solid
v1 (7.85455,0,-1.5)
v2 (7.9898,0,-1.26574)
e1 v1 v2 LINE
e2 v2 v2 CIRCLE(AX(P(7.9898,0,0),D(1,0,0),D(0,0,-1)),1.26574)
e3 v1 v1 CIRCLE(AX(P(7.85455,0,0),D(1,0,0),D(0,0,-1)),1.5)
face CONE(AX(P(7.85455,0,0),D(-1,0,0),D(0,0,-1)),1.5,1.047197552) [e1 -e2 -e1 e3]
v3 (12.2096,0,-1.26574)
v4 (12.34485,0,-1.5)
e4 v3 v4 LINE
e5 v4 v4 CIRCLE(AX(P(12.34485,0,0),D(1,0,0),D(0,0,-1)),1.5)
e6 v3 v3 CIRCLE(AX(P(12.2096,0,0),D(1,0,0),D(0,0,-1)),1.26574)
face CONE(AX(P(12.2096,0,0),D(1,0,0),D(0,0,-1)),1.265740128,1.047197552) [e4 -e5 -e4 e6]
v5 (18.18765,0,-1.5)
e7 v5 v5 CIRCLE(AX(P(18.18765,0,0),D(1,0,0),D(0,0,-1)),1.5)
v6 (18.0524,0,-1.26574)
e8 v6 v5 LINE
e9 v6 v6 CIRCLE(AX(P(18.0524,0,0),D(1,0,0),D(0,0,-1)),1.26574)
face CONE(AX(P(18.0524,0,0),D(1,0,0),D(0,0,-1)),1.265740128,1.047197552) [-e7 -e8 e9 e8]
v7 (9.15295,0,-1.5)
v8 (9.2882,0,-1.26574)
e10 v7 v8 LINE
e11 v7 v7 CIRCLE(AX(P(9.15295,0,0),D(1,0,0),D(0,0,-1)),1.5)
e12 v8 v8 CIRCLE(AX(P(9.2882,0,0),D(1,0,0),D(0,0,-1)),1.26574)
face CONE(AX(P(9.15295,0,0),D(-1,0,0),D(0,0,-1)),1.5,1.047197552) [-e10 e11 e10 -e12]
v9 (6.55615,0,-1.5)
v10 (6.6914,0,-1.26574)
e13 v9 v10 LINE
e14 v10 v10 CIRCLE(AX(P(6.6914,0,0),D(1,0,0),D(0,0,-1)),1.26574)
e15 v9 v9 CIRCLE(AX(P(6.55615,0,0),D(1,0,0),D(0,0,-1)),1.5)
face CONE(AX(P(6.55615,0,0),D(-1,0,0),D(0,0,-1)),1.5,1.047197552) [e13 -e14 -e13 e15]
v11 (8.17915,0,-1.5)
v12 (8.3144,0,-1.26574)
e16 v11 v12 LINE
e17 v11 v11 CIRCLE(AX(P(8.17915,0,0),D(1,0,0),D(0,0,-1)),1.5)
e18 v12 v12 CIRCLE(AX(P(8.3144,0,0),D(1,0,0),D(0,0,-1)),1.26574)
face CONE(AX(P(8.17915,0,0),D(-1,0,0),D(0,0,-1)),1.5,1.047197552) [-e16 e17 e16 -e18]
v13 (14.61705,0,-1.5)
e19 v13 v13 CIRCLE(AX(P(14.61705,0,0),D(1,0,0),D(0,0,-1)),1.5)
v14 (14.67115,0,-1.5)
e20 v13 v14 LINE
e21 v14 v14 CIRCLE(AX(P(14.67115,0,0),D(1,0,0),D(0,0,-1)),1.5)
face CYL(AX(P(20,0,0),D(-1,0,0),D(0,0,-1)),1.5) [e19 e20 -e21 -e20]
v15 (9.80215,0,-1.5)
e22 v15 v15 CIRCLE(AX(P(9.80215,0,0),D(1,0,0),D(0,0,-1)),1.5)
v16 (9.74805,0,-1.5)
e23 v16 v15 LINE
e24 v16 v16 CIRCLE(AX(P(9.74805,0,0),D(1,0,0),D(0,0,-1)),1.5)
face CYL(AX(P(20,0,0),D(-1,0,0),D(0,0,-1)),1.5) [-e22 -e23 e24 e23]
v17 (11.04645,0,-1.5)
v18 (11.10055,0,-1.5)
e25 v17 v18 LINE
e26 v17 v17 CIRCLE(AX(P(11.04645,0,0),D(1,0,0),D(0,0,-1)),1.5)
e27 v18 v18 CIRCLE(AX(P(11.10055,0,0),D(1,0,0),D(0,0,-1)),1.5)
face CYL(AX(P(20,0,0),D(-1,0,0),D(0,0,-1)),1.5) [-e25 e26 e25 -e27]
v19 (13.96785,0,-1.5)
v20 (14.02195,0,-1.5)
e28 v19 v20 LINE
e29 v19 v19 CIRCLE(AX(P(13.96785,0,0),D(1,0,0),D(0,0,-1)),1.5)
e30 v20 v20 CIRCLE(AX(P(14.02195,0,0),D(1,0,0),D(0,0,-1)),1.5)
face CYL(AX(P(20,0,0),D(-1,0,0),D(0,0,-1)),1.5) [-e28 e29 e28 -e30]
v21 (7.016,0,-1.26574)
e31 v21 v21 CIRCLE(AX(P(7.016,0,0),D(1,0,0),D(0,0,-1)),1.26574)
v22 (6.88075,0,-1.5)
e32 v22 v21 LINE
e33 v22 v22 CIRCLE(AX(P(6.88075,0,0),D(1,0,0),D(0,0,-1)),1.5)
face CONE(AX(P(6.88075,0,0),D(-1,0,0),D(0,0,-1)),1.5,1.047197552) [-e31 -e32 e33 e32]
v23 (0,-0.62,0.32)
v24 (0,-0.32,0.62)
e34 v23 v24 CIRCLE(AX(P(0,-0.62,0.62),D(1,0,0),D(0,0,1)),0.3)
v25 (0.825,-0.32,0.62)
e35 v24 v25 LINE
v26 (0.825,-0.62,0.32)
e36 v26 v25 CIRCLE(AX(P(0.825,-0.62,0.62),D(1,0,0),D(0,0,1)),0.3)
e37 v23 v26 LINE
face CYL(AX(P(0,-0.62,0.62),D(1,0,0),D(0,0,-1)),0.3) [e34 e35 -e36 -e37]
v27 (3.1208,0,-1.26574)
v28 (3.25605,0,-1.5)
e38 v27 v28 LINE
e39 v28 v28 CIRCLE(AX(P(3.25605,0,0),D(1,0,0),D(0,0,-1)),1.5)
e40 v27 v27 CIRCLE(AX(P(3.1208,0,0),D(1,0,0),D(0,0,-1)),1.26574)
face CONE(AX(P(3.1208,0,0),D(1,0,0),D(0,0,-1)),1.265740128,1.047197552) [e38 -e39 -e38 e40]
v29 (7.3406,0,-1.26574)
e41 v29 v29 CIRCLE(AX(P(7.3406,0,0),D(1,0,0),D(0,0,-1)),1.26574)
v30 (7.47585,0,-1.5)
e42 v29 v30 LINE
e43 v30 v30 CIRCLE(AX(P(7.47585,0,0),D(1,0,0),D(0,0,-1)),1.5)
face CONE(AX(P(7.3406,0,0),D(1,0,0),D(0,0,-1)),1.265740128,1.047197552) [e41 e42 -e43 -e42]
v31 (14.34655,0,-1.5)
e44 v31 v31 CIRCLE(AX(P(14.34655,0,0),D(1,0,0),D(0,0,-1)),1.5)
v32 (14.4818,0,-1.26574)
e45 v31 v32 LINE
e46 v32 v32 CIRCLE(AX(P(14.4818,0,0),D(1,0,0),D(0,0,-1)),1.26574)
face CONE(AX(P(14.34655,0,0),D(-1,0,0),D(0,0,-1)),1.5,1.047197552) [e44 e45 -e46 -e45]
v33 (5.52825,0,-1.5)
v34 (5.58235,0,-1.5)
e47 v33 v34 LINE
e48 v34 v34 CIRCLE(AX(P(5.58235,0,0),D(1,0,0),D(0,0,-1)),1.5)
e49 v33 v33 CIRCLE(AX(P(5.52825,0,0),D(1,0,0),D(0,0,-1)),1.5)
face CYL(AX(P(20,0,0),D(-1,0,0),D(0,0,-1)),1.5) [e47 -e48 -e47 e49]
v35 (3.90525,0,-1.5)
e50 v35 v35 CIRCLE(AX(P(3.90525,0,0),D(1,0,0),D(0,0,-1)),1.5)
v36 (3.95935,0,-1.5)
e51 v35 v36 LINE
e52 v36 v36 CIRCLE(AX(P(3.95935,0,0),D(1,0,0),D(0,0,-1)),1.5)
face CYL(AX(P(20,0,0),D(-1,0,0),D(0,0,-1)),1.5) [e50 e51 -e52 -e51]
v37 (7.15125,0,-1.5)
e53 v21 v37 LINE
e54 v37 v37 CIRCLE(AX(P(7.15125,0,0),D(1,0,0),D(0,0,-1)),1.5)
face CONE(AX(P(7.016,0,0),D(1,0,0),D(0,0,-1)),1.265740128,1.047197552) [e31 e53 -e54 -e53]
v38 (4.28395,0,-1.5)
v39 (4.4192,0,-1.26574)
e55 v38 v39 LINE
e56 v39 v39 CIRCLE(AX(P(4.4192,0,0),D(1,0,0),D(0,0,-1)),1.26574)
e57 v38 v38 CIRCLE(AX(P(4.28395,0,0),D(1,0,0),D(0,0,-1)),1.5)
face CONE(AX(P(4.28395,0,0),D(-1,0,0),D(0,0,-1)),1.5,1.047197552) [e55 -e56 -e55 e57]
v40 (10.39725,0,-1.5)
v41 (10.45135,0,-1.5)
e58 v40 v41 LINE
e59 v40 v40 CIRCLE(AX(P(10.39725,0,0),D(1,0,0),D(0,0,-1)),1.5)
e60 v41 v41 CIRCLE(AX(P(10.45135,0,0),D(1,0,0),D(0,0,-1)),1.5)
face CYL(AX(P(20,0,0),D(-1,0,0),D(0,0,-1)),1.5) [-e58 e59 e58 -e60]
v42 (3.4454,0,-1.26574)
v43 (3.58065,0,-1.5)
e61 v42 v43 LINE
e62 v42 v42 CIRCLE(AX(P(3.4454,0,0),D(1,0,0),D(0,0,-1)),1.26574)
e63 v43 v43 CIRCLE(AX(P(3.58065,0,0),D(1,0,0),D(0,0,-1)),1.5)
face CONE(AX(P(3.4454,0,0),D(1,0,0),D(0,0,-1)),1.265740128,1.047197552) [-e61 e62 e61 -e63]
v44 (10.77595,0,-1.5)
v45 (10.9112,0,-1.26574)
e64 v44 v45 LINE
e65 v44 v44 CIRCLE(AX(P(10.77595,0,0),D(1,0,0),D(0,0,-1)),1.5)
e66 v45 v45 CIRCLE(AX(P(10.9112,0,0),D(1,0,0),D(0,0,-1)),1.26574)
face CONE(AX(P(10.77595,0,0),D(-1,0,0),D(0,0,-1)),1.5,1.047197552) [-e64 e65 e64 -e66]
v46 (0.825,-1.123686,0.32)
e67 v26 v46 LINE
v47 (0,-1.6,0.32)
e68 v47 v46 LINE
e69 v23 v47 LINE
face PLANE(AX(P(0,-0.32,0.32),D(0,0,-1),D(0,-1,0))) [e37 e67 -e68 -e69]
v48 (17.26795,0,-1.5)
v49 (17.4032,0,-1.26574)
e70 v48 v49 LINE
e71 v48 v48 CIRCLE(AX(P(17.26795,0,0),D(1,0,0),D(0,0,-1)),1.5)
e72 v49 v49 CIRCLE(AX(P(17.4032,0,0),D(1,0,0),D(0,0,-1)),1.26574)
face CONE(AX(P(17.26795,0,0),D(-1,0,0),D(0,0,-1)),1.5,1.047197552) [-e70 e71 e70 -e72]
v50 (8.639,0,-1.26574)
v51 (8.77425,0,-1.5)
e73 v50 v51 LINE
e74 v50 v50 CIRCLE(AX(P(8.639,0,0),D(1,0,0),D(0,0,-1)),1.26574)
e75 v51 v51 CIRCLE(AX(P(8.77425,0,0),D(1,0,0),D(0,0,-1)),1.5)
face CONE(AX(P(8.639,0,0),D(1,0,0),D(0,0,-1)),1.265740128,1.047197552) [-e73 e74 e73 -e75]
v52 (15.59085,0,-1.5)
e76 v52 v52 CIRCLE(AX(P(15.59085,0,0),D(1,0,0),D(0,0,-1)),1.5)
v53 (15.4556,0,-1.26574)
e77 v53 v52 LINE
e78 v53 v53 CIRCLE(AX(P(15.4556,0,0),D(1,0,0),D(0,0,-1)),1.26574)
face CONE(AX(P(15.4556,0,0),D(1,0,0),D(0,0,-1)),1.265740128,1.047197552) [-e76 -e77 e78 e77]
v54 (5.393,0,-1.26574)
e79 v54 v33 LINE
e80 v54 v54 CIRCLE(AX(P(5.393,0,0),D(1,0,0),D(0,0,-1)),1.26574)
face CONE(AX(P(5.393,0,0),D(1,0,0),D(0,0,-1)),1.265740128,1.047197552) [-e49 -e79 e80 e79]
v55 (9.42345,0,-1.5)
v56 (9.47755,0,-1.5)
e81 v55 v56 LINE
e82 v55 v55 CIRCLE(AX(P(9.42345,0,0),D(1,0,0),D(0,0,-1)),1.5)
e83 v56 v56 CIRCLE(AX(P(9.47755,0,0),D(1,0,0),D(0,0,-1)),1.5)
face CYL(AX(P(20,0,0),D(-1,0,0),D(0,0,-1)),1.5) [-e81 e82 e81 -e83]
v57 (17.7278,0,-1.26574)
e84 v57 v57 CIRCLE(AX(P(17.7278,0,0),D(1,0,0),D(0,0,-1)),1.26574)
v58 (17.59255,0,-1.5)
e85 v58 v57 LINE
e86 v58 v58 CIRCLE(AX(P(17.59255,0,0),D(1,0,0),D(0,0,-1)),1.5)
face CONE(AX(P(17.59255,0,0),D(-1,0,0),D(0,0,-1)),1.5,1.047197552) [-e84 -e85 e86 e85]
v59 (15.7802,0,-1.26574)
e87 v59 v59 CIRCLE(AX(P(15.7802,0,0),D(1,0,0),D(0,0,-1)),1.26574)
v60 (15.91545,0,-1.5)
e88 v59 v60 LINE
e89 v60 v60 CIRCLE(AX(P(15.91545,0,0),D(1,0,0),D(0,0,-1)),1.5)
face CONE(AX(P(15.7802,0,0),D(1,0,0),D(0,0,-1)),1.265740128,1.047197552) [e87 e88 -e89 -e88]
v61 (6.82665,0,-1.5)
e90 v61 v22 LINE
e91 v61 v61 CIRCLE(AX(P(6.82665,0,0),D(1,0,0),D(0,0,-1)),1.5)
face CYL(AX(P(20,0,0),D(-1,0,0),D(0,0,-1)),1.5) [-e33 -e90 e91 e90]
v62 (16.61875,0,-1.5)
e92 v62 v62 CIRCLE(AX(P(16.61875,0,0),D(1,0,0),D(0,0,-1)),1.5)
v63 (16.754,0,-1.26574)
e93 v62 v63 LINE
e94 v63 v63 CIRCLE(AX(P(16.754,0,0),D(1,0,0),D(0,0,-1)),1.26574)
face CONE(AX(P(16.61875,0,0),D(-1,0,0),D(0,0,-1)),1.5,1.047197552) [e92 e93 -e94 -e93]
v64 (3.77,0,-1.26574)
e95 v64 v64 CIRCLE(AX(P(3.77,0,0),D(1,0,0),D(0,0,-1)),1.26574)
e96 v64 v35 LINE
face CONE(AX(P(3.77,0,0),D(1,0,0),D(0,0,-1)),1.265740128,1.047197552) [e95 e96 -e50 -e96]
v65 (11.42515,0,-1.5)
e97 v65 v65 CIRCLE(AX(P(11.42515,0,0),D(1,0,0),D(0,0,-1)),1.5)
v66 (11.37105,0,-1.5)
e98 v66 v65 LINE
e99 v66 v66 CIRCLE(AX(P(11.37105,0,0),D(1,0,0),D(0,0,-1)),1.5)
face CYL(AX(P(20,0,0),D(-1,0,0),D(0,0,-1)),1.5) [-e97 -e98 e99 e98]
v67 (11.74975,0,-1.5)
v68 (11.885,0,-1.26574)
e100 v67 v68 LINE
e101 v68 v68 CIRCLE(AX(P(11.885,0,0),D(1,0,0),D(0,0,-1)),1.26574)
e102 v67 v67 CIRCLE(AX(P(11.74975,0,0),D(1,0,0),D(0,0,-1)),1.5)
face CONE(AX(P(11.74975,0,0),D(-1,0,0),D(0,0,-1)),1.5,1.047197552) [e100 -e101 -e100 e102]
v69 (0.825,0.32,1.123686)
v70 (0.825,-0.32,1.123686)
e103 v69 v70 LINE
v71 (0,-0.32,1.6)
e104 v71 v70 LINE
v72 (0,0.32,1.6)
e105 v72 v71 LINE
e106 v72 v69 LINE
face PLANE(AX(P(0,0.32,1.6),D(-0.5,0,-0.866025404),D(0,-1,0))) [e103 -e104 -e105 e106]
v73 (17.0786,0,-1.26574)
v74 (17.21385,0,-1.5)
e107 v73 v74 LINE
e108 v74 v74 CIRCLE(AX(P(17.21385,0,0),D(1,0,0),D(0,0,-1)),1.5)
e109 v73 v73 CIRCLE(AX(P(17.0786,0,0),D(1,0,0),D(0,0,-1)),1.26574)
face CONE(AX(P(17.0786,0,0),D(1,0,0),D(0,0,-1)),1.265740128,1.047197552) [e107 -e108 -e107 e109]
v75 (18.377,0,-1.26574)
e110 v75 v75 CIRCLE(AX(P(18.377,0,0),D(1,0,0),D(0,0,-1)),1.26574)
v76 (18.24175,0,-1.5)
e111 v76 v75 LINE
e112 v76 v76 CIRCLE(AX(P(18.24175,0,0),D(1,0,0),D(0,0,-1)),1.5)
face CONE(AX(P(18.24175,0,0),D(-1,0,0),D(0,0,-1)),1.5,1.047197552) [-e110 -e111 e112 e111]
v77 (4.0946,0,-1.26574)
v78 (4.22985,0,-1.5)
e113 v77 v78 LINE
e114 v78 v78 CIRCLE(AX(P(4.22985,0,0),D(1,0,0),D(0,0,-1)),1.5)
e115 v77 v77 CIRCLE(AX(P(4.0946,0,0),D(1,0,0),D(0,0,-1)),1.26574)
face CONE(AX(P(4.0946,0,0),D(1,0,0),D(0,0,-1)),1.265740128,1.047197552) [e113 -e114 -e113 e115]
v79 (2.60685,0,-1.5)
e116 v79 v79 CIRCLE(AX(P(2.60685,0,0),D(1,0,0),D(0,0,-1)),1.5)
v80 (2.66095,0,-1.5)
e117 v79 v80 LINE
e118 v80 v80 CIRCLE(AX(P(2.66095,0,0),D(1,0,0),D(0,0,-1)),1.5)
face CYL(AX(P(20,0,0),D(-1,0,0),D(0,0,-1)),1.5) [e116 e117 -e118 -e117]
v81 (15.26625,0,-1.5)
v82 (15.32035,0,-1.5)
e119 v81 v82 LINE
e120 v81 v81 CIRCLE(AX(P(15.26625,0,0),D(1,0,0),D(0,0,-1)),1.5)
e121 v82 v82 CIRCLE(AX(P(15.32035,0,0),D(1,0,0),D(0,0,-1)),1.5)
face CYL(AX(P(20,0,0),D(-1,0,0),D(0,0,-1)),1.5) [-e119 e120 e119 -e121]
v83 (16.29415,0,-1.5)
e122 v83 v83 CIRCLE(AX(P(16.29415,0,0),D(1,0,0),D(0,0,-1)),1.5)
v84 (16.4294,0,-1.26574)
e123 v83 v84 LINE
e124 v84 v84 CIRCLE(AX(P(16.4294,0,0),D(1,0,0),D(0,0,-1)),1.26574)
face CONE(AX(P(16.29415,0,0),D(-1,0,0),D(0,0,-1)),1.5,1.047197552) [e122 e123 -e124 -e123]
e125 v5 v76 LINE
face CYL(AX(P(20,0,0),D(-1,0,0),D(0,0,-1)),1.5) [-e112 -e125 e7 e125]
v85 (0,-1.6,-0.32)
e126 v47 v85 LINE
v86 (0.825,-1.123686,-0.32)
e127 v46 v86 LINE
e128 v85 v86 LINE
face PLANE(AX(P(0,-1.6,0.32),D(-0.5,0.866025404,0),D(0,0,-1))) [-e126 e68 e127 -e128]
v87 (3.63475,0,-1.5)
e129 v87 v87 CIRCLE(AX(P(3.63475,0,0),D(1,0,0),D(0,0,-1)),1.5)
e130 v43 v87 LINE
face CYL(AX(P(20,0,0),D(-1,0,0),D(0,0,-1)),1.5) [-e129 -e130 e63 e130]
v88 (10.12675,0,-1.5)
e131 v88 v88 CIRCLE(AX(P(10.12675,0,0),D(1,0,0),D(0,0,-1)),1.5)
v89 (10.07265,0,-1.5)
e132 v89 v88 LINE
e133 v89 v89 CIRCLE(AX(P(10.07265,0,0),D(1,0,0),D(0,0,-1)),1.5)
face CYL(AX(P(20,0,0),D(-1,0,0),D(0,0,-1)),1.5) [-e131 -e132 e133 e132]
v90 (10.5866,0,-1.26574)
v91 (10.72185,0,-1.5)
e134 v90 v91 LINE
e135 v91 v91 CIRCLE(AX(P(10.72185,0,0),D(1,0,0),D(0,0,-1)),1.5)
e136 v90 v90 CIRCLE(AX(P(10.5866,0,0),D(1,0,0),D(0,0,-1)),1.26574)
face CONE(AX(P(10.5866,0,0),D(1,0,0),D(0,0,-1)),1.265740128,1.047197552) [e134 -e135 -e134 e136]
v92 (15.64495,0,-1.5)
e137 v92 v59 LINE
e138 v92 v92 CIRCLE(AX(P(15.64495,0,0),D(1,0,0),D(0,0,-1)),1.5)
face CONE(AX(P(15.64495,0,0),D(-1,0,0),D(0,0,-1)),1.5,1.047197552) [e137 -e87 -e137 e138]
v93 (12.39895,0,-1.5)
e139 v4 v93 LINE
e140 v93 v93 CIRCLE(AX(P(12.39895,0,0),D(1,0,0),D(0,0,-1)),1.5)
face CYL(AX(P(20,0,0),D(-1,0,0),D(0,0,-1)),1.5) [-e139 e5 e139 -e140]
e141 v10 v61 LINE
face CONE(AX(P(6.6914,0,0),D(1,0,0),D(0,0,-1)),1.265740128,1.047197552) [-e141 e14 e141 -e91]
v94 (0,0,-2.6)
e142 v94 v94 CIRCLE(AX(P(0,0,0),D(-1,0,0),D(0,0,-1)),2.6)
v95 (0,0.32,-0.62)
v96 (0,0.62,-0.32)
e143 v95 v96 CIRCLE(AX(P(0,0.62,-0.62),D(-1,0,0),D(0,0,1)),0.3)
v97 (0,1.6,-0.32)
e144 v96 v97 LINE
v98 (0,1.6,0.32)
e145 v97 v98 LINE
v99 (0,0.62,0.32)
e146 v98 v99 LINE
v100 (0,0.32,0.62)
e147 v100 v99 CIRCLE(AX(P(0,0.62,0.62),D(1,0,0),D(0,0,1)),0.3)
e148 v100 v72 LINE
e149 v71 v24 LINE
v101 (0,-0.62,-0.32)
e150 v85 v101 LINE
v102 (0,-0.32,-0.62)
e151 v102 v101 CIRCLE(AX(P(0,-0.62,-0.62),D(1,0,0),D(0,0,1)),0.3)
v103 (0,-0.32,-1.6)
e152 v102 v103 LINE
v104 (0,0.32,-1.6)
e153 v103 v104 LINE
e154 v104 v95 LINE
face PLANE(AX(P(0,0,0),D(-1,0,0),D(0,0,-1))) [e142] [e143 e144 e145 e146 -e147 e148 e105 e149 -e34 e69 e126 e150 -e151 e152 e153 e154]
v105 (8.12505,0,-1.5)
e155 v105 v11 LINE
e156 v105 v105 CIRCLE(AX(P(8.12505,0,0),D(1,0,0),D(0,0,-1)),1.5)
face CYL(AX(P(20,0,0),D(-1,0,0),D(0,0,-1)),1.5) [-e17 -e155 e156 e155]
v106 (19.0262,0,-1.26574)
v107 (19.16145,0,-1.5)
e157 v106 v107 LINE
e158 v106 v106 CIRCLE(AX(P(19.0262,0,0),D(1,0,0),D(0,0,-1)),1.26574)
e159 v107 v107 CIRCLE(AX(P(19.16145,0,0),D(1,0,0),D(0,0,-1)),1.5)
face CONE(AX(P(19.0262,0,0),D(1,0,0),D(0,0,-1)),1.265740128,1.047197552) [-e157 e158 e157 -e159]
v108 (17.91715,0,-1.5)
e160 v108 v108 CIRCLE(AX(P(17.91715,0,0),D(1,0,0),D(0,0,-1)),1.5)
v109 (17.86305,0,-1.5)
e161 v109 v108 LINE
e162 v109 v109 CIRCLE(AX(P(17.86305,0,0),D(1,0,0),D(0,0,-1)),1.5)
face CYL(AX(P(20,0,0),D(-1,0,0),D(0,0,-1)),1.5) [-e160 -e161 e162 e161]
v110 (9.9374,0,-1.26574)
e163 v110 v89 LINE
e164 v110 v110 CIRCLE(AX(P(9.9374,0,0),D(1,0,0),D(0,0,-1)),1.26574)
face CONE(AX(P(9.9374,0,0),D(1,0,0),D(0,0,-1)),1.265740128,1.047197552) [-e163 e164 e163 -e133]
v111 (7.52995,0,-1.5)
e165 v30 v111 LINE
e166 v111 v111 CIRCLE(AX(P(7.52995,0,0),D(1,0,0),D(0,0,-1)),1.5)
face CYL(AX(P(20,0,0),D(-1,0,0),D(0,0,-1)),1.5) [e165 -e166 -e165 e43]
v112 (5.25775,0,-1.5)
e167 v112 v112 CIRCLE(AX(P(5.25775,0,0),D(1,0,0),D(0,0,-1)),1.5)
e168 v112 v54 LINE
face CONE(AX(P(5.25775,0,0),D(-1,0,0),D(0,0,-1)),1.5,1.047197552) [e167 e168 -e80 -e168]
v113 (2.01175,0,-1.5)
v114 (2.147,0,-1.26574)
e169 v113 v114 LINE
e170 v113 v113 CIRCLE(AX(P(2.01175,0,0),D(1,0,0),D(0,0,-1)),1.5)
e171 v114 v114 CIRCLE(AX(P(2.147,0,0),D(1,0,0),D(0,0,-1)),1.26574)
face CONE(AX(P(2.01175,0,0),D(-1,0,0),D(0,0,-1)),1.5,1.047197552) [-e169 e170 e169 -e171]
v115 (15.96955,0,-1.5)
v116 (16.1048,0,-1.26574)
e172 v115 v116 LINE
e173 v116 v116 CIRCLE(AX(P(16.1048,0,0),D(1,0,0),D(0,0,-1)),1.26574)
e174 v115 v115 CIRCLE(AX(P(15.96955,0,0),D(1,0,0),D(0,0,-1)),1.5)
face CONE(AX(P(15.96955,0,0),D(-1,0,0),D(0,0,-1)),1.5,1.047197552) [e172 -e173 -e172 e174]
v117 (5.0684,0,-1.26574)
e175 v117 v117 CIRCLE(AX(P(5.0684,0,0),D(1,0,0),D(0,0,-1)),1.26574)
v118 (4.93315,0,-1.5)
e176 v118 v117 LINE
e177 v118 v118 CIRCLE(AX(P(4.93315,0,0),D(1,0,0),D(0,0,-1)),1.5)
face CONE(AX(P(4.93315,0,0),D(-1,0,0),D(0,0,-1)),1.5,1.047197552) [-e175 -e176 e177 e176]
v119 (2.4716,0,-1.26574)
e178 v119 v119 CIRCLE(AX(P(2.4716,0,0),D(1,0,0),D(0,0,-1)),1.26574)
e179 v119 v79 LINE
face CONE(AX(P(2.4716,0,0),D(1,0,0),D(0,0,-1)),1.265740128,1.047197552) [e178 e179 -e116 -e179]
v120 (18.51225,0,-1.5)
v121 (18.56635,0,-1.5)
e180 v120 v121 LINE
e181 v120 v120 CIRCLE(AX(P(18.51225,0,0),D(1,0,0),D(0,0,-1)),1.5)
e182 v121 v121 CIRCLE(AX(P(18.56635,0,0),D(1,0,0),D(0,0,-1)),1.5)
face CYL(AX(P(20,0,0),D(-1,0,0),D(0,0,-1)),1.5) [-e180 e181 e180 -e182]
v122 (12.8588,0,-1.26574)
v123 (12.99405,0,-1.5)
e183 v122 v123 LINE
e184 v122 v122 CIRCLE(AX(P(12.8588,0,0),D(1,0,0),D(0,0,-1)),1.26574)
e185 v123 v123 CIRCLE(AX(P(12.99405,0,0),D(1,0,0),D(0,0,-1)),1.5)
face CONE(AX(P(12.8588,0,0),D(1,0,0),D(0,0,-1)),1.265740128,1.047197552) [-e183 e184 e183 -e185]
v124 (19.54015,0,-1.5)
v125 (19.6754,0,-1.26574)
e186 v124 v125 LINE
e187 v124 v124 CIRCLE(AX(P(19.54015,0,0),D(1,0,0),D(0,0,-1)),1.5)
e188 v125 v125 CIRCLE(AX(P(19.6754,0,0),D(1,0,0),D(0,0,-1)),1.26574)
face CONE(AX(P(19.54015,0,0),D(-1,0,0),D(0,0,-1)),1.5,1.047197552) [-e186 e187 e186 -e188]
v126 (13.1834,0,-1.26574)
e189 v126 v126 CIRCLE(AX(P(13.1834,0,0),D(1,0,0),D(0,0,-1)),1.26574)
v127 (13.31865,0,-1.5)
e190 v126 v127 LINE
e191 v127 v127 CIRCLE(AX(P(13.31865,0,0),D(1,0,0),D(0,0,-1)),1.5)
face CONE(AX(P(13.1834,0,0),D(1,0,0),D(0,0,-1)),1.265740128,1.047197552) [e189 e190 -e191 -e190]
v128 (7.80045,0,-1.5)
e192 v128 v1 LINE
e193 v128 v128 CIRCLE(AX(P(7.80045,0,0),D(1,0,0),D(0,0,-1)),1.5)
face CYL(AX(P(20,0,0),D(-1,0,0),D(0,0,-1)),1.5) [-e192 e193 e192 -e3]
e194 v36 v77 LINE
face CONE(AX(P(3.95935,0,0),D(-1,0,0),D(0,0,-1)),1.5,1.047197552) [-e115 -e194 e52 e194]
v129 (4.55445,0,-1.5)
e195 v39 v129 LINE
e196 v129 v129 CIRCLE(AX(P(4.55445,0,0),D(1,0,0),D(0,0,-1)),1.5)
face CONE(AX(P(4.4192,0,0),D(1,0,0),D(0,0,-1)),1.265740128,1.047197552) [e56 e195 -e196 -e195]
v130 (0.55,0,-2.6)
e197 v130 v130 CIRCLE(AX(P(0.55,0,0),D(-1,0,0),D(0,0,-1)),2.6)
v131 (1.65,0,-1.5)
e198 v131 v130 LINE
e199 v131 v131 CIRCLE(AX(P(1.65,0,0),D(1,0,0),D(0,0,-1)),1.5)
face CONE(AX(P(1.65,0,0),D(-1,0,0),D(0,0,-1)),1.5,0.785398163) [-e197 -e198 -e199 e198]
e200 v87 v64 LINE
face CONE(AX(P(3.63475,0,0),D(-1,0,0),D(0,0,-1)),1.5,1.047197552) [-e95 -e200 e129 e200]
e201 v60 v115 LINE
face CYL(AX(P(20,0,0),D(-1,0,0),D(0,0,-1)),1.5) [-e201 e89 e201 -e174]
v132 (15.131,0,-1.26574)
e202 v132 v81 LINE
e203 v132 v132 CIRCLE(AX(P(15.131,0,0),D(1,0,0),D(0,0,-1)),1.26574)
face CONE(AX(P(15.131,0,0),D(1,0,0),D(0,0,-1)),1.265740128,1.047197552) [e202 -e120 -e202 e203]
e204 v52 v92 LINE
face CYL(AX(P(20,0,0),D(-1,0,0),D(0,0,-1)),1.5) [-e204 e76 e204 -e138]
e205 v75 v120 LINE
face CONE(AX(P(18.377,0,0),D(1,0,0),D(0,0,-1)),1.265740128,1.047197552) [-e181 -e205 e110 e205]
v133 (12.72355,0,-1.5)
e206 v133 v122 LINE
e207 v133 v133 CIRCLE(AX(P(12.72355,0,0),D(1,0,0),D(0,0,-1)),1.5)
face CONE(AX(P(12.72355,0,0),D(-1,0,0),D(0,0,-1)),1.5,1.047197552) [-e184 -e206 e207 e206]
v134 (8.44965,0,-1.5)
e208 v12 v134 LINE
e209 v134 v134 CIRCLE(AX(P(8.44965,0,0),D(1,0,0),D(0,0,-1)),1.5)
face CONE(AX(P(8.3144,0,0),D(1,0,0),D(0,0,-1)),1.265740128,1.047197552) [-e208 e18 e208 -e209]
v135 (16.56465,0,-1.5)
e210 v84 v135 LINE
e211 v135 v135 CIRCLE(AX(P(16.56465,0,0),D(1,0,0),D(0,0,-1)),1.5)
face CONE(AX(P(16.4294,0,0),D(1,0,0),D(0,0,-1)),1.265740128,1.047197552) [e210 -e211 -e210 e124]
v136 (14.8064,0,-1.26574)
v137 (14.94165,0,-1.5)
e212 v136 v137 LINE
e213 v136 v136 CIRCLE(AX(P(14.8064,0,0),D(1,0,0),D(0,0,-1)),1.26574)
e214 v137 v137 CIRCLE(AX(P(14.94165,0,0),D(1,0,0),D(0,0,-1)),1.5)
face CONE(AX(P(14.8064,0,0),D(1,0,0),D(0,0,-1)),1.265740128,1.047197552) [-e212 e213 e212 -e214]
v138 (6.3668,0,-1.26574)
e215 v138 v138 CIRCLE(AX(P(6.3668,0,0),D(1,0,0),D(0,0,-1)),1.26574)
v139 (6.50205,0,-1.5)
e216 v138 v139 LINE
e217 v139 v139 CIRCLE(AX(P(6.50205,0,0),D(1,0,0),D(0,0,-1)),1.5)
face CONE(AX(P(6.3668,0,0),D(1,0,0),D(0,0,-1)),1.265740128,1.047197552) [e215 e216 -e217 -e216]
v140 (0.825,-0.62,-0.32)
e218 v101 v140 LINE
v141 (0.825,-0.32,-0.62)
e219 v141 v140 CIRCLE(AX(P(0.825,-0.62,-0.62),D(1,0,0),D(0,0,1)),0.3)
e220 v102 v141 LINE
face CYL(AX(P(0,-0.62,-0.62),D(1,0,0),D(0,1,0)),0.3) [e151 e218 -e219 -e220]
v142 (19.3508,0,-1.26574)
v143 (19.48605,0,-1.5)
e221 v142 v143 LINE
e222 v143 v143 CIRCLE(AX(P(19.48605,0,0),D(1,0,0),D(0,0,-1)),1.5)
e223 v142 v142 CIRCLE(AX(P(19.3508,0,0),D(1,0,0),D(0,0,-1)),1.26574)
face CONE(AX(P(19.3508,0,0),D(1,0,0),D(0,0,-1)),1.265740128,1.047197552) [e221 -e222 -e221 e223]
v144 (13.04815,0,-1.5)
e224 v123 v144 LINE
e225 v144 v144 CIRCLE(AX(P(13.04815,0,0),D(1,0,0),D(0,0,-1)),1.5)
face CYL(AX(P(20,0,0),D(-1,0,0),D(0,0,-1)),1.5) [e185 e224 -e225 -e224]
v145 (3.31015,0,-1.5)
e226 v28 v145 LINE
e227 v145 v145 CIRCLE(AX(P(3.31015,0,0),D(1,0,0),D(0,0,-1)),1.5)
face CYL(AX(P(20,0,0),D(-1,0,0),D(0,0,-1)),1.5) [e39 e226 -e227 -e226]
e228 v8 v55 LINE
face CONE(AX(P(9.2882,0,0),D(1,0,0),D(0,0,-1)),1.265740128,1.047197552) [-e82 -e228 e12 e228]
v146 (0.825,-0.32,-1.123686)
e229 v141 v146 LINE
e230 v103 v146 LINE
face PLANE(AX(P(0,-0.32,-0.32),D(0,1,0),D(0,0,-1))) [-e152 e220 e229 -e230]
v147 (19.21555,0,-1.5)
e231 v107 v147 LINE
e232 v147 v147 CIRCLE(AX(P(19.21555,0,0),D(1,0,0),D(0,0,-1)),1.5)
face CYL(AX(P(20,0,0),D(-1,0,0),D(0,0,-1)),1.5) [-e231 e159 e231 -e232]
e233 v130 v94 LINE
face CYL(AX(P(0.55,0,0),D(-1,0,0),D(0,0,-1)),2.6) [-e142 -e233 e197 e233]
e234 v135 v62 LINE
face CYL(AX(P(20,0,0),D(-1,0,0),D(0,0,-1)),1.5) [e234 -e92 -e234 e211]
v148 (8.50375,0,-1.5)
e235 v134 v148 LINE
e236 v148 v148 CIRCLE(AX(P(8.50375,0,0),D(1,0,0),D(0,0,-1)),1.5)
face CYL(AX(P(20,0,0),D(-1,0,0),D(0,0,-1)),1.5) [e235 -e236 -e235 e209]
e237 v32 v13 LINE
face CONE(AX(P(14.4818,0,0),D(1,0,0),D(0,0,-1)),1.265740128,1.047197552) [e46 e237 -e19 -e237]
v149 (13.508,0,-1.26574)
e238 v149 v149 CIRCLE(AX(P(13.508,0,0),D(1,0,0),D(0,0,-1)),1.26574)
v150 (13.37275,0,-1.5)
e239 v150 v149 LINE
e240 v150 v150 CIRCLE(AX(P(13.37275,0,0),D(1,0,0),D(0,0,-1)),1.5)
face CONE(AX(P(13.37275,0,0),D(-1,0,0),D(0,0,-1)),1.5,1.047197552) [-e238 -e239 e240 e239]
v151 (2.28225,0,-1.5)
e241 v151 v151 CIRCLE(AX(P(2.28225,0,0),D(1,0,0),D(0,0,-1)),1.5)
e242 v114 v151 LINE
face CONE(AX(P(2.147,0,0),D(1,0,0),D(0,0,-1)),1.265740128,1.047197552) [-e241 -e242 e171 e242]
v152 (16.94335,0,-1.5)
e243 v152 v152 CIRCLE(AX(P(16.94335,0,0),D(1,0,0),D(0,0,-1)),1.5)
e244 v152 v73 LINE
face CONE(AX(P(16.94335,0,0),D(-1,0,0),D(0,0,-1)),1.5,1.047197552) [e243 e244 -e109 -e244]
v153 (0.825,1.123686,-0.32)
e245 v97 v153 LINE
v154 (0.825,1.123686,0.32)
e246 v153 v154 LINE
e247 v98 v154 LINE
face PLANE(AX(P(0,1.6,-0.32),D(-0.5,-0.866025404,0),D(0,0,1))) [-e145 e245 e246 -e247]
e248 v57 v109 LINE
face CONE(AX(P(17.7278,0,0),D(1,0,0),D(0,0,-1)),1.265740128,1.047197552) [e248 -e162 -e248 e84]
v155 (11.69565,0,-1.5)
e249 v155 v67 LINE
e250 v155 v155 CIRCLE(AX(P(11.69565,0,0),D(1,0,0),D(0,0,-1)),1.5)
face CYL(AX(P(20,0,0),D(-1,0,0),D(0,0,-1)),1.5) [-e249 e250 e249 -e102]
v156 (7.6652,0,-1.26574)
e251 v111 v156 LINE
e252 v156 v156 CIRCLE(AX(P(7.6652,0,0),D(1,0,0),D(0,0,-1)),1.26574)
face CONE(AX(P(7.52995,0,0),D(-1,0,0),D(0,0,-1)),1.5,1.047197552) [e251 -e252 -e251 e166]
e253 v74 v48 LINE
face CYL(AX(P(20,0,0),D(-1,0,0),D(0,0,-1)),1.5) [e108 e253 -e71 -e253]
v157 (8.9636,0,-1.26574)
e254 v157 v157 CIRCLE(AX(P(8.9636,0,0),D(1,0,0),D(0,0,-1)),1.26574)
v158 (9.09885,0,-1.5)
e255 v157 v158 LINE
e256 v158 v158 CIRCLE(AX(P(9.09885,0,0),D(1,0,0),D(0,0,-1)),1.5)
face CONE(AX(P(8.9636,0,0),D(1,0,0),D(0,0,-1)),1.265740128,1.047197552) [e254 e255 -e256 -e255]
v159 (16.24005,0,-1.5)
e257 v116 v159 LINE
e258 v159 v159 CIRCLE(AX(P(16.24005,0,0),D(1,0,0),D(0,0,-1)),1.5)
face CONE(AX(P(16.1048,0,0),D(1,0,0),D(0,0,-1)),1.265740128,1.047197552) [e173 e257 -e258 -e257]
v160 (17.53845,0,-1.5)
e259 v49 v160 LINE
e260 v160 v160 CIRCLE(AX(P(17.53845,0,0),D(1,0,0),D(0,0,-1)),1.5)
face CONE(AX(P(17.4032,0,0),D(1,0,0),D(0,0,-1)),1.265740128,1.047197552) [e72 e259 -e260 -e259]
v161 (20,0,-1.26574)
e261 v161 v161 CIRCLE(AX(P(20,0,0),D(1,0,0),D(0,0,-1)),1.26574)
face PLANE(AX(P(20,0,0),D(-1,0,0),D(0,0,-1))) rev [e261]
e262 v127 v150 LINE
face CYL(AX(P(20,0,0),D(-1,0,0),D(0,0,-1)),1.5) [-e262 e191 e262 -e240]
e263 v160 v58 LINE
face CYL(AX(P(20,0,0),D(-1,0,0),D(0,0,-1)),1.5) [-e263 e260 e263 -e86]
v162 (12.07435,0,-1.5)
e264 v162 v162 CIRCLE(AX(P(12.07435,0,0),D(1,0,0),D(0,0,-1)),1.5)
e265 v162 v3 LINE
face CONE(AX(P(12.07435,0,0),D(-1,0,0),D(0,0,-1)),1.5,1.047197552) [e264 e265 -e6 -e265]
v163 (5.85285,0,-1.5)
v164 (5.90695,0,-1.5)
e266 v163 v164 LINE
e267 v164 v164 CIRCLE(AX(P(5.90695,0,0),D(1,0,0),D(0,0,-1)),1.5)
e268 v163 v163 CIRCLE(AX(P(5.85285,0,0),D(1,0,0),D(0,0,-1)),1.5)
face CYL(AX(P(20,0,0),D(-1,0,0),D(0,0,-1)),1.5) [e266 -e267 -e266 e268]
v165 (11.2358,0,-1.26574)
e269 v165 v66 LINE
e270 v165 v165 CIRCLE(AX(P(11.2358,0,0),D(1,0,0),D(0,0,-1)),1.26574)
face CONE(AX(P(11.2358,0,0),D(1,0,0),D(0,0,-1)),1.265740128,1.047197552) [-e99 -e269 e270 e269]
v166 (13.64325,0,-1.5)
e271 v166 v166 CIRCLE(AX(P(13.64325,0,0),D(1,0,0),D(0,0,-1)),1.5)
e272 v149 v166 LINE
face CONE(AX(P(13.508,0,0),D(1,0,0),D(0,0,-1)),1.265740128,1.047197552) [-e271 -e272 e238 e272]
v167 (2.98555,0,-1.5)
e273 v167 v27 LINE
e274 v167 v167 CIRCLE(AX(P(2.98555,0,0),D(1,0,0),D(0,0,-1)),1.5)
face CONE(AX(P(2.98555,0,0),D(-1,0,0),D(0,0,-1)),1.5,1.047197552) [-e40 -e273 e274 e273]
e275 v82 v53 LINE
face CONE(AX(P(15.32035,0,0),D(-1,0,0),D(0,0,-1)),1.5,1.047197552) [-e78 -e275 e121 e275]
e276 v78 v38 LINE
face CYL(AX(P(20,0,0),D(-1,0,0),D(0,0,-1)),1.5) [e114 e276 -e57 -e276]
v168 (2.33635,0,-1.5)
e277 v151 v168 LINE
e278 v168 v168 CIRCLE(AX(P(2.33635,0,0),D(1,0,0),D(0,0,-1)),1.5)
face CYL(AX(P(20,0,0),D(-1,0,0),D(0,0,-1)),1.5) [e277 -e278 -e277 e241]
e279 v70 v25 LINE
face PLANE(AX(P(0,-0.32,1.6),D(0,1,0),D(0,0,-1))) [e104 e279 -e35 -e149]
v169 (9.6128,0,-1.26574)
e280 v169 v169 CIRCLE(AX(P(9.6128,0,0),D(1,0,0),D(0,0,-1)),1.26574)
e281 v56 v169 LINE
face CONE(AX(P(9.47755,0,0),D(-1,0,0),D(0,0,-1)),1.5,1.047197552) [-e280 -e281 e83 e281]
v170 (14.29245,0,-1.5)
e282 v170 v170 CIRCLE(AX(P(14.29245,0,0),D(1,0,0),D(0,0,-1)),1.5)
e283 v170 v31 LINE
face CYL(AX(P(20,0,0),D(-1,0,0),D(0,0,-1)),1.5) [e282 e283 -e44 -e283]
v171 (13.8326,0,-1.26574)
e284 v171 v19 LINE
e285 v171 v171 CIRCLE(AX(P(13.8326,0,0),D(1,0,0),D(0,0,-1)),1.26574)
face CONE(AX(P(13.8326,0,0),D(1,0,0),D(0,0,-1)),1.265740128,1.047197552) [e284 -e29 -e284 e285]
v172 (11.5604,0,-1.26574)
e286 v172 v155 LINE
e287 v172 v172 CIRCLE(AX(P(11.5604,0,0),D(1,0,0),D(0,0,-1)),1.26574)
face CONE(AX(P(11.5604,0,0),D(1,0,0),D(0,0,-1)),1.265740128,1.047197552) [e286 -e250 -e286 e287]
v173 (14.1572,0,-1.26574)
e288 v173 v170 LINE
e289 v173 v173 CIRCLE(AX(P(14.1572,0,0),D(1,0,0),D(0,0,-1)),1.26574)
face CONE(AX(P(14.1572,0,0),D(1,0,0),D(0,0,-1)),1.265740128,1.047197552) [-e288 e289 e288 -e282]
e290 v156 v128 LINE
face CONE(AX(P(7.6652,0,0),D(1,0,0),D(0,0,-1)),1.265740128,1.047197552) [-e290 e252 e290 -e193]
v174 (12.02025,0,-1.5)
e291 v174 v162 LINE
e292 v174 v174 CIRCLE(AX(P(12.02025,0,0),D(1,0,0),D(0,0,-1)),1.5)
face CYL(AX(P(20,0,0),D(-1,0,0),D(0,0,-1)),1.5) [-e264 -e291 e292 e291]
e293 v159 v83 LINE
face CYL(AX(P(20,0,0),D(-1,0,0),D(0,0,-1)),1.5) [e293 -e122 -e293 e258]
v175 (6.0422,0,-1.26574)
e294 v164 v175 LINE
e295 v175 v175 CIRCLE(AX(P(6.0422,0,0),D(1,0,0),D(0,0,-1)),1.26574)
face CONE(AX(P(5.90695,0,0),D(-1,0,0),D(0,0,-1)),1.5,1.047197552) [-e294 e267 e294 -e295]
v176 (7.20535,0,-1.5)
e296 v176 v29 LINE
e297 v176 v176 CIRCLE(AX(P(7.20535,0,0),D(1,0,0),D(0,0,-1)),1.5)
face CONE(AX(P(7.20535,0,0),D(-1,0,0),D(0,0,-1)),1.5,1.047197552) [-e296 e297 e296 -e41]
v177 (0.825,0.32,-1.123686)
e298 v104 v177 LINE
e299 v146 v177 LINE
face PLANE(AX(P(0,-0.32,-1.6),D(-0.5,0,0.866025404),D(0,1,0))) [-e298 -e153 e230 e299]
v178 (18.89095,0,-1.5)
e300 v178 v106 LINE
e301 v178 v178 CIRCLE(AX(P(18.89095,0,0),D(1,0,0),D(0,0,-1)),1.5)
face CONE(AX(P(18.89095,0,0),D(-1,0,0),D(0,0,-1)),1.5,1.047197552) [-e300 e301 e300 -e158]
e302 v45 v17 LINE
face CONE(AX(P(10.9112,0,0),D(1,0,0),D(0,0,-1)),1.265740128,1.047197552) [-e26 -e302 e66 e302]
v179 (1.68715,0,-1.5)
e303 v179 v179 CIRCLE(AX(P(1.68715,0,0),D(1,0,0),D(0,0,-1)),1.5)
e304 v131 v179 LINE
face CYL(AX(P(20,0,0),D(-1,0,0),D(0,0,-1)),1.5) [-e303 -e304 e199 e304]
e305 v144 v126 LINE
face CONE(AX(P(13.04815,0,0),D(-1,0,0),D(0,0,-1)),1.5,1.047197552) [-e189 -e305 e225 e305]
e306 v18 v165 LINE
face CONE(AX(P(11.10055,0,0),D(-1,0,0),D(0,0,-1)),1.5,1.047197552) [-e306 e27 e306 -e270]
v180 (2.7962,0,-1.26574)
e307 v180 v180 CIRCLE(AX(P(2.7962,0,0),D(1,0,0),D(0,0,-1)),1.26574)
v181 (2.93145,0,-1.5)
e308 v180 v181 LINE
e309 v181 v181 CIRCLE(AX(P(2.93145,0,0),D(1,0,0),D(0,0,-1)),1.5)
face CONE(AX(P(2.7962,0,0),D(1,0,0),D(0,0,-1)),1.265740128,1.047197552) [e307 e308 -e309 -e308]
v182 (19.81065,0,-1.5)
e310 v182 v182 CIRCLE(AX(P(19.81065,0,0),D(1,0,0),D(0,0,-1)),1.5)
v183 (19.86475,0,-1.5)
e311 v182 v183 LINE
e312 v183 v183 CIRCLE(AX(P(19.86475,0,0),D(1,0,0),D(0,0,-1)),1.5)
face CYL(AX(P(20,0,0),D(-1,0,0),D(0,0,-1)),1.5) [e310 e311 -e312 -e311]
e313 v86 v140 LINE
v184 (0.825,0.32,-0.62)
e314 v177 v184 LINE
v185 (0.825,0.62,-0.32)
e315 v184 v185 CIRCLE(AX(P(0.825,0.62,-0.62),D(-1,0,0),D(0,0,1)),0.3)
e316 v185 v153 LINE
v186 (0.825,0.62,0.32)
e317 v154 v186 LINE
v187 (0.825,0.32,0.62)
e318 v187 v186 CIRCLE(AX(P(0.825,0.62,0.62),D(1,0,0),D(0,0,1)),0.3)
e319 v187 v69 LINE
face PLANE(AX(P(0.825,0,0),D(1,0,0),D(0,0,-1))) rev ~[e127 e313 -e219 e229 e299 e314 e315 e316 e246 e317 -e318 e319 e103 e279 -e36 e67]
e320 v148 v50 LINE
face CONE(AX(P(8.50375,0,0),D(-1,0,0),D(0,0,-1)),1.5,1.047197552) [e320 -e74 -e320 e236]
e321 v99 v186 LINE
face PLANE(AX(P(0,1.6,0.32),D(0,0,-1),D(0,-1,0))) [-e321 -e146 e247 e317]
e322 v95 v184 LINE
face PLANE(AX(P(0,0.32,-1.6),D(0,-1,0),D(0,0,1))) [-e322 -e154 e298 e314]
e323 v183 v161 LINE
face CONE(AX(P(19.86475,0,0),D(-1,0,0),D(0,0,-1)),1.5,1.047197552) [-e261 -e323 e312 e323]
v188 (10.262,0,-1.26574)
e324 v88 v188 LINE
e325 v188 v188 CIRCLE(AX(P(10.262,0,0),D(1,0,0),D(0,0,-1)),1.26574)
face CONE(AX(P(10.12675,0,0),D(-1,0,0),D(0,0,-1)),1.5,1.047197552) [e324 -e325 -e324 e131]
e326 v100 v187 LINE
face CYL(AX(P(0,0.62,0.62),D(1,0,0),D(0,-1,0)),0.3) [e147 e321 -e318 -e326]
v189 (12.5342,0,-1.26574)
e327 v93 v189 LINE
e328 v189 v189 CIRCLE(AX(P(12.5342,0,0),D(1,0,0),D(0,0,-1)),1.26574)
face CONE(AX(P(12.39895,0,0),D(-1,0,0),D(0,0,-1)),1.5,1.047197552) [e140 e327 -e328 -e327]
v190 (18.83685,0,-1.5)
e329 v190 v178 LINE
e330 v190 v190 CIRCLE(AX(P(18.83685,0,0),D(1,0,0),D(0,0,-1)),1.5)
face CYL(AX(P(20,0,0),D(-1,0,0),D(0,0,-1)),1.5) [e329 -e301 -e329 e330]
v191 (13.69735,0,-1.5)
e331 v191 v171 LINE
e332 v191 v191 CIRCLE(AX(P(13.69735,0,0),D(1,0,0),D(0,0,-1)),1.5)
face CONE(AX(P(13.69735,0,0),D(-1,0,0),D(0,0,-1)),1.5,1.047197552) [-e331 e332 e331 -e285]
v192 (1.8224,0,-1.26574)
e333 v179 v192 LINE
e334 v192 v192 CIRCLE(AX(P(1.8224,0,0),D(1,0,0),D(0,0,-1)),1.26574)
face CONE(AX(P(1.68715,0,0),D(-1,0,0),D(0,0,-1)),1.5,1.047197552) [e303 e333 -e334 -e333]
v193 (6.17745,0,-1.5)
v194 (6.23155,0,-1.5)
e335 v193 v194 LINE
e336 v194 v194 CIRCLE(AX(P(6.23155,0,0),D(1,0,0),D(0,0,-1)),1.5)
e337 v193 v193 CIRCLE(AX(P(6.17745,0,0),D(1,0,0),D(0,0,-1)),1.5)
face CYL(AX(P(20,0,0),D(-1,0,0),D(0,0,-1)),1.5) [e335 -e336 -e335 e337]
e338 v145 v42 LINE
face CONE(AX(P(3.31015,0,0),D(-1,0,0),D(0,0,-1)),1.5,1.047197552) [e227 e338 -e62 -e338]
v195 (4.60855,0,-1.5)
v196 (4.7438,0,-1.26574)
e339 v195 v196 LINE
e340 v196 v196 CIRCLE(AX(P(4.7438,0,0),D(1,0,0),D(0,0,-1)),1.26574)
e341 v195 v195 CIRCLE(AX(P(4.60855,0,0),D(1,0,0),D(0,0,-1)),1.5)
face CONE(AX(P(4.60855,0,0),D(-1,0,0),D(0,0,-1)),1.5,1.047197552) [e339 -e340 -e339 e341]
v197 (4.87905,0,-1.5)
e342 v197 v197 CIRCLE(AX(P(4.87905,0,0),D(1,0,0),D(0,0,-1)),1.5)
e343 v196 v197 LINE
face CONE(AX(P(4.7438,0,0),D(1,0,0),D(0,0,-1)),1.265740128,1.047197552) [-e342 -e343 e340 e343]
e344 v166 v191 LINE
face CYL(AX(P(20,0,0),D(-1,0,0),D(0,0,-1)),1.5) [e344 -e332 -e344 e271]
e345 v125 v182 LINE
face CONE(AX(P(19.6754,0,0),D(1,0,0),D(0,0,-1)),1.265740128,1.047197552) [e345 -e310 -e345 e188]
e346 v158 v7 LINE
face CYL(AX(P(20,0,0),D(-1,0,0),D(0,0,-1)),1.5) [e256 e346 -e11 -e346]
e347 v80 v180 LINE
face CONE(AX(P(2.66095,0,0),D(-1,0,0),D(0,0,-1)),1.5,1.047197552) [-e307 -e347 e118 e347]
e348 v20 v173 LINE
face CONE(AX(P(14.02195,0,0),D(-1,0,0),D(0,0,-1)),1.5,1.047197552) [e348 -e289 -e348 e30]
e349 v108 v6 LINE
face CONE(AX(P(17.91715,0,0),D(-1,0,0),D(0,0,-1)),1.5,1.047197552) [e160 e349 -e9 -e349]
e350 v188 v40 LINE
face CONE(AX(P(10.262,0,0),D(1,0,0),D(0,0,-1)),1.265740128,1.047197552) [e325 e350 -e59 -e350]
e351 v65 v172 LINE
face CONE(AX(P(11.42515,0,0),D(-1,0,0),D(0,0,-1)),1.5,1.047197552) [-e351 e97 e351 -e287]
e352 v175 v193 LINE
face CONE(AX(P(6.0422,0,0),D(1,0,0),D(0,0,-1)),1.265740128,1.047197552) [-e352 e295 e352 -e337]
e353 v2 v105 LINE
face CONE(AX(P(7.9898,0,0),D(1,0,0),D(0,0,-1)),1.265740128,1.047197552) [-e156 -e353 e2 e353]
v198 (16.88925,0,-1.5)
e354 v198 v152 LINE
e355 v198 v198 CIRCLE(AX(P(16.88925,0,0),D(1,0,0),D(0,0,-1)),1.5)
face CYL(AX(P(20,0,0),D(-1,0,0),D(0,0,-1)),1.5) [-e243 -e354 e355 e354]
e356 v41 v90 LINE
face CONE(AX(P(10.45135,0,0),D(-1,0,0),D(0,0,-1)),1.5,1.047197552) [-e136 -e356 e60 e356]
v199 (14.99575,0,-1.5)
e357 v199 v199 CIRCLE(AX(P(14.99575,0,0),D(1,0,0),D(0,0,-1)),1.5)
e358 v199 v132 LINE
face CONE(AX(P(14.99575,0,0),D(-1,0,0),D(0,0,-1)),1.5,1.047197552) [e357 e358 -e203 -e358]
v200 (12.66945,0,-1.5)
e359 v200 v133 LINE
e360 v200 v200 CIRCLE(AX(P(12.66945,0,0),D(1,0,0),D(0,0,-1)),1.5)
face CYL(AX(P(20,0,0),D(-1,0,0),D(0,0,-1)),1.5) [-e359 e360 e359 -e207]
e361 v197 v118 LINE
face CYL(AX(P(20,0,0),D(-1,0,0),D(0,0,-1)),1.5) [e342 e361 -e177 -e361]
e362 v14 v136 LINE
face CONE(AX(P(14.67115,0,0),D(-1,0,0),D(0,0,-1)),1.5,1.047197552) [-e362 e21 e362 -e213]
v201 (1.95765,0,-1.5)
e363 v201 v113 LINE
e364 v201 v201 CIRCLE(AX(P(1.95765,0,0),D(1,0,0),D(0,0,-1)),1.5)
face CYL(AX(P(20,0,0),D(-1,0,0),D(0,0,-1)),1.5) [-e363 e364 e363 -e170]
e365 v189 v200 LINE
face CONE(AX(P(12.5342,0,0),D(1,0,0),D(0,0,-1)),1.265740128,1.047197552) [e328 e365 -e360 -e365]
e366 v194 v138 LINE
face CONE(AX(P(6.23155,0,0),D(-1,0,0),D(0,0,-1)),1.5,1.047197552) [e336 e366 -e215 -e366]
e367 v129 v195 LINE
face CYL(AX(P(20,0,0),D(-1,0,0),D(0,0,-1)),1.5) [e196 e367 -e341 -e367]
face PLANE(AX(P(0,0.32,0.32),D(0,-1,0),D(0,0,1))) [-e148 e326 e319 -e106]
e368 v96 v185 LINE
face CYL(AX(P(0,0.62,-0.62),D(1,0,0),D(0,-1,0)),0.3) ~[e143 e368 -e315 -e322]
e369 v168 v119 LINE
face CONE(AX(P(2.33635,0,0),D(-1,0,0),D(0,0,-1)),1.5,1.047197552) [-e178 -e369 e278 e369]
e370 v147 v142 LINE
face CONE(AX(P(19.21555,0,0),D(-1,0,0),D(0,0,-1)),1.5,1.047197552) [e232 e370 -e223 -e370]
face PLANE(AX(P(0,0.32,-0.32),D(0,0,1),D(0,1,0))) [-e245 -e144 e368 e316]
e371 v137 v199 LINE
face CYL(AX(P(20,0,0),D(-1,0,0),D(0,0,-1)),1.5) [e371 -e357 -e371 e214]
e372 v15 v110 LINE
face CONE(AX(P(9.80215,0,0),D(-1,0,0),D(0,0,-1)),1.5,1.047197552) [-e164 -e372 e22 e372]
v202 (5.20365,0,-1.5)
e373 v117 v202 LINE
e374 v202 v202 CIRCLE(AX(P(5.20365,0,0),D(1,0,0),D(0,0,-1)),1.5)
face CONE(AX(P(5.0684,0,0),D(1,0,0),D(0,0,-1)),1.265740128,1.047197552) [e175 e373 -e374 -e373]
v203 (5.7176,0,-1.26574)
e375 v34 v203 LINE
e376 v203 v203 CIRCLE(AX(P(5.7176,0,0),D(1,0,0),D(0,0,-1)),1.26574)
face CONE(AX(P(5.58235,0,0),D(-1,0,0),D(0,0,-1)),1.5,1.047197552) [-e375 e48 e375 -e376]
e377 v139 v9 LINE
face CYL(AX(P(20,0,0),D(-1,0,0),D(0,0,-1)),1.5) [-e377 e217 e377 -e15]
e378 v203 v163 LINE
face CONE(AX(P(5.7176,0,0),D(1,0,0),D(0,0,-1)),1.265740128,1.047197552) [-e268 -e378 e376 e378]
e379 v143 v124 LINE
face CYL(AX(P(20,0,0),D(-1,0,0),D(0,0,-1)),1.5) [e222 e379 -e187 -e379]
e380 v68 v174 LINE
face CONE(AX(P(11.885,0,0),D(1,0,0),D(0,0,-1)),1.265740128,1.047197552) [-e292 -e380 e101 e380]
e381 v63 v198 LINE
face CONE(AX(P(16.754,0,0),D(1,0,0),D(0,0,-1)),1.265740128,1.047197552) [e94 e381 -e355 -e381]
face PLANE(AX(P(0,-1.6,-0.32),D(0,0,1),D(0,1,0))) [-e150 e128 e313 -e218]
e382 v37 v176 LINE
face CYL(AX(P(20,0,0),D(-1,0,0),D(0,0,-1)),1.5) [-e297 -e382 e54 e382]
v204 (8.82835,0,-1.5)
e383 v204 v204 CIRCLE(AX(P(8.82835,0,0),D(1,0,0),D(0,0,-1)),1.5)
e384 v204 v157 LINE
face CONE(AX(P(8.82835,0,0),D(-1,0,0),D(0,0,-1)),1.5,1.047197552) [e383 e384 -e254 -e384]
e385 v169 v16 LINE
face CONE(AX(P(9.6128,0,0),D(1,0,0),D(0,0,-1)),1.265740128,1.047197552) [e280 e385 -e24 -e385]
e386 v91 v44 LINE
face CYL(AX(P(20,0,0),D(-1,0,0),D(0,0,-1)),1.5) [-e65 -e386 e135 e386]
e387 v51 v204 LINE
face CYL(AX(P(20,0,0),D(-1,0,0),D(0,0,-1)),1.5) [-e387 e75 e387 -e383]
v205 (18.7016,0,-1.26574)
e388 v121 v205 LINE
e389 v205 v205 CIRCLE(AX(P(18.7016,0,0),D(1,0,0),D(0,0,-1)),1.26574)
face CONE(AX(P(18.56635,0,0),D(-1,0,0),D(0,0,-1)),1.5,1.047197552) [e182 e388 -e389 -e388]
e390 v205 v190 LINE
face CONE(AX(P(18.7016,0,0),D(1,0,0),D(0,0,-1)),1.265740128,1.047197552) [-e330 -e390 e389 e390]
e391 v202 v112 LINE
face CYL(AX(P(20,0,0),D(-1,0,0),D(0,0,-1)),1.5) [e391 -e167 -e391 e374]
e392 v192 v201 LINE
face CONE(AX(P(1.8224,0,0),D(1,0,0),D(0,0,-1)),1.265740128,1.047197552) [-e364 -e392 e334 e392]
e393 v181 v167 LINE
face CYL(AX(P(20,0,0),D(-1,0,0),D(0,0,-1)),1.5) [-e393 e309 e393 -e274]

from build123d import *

# Parameters (mm, degrees)
CROSSRECESS_DEPTH = 0.825
DRAFT9_ANGLE      = 30
FILLET5_R         = 0.3
SKETCH10_W        = 0.5
SKETCH10_H        = 1.5
LPATTERN10_COUNT  = 57
LPATTERN10_PITCH  = 0.3246


with BuildPart() as part:
    # Sketch1 → Base (revolve)
    with BuildSketch(Plane.XY, mode=Mode.PRIVATE) as base_sk:
        Polygon((20, 1.5), (2.65, 1.5), (1.65, 1.5), (0.55, 2.6), (0, 2.6), (0, 0), (20, 0), align=None)
    revolve(base_sk.sketch.rotate(Axis((4.515812911, 0, 0), (-1, 0, 0)), 90), axis=Axis((4.515812911, 0, 0), (-1, 0, 0)))

    # Sketch6 → CrossRecess (cut)
    with BuildSketch(Plane(origin=(0, 0, 0), x_dir=(0, 0, -1), z_dir=(1, 0, 0))):
        Polygon((0.32, 0.32), (0.32, 1.6), (-0.32, 1.6), (-0.32, 0.32), (-1.6, 0.32), (-1.6, -0.32), (-0.32, -0.32), (-0.32, -1.6), (0.32, -1.6), (0.32, -0.32), (1.6, -0.32), (1.6, 0.32), align=None)
    extrude(amount=CROSSRECESS_DEPTH, mode=Mode.SUBTRACT)

    # Draft9
    draft9_faces = [part.faces().sort_by_distance(p)[0] for p in [
        (0.4125, -1.6, 0),
        (0.4125, 0, 1.6),
        (0.4125, 0, -1.6),
        (0.4125, 1.6, 0),
    ]]
    draft(draft9_faces, Plane(origin=(0, 2.6, 0), x_dir=(0, 0, -1), z_dir=(-1, 0, 0)), DRAFT9_ANGLE)

    # Fillet5
    fillet5_edges = [part.edges().sort_by_distance(p)[0] for p in [
        (0.4125, 0.32, 0.32),
        (0.4125, -0.32, 0.32),
        (0.4125, -0.32, -0.32),
        (0.4125, 0.32, -0.32),
    ]]
    fillet(fillet5_edges, radius=FILLET5_R)

    # Sketch10 → Revolve2 (revolve)
    with BuildSketch(Plane.XY):
        with Locations((1.9, 0.75)):
            Rectangle(SKETCH10_W, SKETCH10_H)
    revolve(axis=Axis((62.228915663, 0, 0), (-1, 0, 0)))

    # Sketch11 → Cut-Revolve10 (revolve, cut)
    with BuildSketch(Plane.XY, mode=Mode.PRIVATE) as cut_revolve10_sk:
        Polygon((20, 1.265740128), (20.13525, 1.5), (20.13525, 1.7705), (19.86475, 1.7705), (19.86475, 1.5), align=None)
    cut_revolve10 = revolve(cut_revolve10_sk.sketch.rotate(Axis((0, 0, 0), (1, 0, 0)), 270), axis=Axis((0, 0, 0), (1, 0, 0)), mode=Mode.SUBTRACT)

    # LPattern10: Cut-Revolve10 ×57
    with Locations(*[(-i * LPATTERN10_PITCH, 0, 0) for i in range(1, LPATTERN10_COUNT)]):
        add(cut_revolve10, mode=Mode.SUBTRACT)


solid = part.part
